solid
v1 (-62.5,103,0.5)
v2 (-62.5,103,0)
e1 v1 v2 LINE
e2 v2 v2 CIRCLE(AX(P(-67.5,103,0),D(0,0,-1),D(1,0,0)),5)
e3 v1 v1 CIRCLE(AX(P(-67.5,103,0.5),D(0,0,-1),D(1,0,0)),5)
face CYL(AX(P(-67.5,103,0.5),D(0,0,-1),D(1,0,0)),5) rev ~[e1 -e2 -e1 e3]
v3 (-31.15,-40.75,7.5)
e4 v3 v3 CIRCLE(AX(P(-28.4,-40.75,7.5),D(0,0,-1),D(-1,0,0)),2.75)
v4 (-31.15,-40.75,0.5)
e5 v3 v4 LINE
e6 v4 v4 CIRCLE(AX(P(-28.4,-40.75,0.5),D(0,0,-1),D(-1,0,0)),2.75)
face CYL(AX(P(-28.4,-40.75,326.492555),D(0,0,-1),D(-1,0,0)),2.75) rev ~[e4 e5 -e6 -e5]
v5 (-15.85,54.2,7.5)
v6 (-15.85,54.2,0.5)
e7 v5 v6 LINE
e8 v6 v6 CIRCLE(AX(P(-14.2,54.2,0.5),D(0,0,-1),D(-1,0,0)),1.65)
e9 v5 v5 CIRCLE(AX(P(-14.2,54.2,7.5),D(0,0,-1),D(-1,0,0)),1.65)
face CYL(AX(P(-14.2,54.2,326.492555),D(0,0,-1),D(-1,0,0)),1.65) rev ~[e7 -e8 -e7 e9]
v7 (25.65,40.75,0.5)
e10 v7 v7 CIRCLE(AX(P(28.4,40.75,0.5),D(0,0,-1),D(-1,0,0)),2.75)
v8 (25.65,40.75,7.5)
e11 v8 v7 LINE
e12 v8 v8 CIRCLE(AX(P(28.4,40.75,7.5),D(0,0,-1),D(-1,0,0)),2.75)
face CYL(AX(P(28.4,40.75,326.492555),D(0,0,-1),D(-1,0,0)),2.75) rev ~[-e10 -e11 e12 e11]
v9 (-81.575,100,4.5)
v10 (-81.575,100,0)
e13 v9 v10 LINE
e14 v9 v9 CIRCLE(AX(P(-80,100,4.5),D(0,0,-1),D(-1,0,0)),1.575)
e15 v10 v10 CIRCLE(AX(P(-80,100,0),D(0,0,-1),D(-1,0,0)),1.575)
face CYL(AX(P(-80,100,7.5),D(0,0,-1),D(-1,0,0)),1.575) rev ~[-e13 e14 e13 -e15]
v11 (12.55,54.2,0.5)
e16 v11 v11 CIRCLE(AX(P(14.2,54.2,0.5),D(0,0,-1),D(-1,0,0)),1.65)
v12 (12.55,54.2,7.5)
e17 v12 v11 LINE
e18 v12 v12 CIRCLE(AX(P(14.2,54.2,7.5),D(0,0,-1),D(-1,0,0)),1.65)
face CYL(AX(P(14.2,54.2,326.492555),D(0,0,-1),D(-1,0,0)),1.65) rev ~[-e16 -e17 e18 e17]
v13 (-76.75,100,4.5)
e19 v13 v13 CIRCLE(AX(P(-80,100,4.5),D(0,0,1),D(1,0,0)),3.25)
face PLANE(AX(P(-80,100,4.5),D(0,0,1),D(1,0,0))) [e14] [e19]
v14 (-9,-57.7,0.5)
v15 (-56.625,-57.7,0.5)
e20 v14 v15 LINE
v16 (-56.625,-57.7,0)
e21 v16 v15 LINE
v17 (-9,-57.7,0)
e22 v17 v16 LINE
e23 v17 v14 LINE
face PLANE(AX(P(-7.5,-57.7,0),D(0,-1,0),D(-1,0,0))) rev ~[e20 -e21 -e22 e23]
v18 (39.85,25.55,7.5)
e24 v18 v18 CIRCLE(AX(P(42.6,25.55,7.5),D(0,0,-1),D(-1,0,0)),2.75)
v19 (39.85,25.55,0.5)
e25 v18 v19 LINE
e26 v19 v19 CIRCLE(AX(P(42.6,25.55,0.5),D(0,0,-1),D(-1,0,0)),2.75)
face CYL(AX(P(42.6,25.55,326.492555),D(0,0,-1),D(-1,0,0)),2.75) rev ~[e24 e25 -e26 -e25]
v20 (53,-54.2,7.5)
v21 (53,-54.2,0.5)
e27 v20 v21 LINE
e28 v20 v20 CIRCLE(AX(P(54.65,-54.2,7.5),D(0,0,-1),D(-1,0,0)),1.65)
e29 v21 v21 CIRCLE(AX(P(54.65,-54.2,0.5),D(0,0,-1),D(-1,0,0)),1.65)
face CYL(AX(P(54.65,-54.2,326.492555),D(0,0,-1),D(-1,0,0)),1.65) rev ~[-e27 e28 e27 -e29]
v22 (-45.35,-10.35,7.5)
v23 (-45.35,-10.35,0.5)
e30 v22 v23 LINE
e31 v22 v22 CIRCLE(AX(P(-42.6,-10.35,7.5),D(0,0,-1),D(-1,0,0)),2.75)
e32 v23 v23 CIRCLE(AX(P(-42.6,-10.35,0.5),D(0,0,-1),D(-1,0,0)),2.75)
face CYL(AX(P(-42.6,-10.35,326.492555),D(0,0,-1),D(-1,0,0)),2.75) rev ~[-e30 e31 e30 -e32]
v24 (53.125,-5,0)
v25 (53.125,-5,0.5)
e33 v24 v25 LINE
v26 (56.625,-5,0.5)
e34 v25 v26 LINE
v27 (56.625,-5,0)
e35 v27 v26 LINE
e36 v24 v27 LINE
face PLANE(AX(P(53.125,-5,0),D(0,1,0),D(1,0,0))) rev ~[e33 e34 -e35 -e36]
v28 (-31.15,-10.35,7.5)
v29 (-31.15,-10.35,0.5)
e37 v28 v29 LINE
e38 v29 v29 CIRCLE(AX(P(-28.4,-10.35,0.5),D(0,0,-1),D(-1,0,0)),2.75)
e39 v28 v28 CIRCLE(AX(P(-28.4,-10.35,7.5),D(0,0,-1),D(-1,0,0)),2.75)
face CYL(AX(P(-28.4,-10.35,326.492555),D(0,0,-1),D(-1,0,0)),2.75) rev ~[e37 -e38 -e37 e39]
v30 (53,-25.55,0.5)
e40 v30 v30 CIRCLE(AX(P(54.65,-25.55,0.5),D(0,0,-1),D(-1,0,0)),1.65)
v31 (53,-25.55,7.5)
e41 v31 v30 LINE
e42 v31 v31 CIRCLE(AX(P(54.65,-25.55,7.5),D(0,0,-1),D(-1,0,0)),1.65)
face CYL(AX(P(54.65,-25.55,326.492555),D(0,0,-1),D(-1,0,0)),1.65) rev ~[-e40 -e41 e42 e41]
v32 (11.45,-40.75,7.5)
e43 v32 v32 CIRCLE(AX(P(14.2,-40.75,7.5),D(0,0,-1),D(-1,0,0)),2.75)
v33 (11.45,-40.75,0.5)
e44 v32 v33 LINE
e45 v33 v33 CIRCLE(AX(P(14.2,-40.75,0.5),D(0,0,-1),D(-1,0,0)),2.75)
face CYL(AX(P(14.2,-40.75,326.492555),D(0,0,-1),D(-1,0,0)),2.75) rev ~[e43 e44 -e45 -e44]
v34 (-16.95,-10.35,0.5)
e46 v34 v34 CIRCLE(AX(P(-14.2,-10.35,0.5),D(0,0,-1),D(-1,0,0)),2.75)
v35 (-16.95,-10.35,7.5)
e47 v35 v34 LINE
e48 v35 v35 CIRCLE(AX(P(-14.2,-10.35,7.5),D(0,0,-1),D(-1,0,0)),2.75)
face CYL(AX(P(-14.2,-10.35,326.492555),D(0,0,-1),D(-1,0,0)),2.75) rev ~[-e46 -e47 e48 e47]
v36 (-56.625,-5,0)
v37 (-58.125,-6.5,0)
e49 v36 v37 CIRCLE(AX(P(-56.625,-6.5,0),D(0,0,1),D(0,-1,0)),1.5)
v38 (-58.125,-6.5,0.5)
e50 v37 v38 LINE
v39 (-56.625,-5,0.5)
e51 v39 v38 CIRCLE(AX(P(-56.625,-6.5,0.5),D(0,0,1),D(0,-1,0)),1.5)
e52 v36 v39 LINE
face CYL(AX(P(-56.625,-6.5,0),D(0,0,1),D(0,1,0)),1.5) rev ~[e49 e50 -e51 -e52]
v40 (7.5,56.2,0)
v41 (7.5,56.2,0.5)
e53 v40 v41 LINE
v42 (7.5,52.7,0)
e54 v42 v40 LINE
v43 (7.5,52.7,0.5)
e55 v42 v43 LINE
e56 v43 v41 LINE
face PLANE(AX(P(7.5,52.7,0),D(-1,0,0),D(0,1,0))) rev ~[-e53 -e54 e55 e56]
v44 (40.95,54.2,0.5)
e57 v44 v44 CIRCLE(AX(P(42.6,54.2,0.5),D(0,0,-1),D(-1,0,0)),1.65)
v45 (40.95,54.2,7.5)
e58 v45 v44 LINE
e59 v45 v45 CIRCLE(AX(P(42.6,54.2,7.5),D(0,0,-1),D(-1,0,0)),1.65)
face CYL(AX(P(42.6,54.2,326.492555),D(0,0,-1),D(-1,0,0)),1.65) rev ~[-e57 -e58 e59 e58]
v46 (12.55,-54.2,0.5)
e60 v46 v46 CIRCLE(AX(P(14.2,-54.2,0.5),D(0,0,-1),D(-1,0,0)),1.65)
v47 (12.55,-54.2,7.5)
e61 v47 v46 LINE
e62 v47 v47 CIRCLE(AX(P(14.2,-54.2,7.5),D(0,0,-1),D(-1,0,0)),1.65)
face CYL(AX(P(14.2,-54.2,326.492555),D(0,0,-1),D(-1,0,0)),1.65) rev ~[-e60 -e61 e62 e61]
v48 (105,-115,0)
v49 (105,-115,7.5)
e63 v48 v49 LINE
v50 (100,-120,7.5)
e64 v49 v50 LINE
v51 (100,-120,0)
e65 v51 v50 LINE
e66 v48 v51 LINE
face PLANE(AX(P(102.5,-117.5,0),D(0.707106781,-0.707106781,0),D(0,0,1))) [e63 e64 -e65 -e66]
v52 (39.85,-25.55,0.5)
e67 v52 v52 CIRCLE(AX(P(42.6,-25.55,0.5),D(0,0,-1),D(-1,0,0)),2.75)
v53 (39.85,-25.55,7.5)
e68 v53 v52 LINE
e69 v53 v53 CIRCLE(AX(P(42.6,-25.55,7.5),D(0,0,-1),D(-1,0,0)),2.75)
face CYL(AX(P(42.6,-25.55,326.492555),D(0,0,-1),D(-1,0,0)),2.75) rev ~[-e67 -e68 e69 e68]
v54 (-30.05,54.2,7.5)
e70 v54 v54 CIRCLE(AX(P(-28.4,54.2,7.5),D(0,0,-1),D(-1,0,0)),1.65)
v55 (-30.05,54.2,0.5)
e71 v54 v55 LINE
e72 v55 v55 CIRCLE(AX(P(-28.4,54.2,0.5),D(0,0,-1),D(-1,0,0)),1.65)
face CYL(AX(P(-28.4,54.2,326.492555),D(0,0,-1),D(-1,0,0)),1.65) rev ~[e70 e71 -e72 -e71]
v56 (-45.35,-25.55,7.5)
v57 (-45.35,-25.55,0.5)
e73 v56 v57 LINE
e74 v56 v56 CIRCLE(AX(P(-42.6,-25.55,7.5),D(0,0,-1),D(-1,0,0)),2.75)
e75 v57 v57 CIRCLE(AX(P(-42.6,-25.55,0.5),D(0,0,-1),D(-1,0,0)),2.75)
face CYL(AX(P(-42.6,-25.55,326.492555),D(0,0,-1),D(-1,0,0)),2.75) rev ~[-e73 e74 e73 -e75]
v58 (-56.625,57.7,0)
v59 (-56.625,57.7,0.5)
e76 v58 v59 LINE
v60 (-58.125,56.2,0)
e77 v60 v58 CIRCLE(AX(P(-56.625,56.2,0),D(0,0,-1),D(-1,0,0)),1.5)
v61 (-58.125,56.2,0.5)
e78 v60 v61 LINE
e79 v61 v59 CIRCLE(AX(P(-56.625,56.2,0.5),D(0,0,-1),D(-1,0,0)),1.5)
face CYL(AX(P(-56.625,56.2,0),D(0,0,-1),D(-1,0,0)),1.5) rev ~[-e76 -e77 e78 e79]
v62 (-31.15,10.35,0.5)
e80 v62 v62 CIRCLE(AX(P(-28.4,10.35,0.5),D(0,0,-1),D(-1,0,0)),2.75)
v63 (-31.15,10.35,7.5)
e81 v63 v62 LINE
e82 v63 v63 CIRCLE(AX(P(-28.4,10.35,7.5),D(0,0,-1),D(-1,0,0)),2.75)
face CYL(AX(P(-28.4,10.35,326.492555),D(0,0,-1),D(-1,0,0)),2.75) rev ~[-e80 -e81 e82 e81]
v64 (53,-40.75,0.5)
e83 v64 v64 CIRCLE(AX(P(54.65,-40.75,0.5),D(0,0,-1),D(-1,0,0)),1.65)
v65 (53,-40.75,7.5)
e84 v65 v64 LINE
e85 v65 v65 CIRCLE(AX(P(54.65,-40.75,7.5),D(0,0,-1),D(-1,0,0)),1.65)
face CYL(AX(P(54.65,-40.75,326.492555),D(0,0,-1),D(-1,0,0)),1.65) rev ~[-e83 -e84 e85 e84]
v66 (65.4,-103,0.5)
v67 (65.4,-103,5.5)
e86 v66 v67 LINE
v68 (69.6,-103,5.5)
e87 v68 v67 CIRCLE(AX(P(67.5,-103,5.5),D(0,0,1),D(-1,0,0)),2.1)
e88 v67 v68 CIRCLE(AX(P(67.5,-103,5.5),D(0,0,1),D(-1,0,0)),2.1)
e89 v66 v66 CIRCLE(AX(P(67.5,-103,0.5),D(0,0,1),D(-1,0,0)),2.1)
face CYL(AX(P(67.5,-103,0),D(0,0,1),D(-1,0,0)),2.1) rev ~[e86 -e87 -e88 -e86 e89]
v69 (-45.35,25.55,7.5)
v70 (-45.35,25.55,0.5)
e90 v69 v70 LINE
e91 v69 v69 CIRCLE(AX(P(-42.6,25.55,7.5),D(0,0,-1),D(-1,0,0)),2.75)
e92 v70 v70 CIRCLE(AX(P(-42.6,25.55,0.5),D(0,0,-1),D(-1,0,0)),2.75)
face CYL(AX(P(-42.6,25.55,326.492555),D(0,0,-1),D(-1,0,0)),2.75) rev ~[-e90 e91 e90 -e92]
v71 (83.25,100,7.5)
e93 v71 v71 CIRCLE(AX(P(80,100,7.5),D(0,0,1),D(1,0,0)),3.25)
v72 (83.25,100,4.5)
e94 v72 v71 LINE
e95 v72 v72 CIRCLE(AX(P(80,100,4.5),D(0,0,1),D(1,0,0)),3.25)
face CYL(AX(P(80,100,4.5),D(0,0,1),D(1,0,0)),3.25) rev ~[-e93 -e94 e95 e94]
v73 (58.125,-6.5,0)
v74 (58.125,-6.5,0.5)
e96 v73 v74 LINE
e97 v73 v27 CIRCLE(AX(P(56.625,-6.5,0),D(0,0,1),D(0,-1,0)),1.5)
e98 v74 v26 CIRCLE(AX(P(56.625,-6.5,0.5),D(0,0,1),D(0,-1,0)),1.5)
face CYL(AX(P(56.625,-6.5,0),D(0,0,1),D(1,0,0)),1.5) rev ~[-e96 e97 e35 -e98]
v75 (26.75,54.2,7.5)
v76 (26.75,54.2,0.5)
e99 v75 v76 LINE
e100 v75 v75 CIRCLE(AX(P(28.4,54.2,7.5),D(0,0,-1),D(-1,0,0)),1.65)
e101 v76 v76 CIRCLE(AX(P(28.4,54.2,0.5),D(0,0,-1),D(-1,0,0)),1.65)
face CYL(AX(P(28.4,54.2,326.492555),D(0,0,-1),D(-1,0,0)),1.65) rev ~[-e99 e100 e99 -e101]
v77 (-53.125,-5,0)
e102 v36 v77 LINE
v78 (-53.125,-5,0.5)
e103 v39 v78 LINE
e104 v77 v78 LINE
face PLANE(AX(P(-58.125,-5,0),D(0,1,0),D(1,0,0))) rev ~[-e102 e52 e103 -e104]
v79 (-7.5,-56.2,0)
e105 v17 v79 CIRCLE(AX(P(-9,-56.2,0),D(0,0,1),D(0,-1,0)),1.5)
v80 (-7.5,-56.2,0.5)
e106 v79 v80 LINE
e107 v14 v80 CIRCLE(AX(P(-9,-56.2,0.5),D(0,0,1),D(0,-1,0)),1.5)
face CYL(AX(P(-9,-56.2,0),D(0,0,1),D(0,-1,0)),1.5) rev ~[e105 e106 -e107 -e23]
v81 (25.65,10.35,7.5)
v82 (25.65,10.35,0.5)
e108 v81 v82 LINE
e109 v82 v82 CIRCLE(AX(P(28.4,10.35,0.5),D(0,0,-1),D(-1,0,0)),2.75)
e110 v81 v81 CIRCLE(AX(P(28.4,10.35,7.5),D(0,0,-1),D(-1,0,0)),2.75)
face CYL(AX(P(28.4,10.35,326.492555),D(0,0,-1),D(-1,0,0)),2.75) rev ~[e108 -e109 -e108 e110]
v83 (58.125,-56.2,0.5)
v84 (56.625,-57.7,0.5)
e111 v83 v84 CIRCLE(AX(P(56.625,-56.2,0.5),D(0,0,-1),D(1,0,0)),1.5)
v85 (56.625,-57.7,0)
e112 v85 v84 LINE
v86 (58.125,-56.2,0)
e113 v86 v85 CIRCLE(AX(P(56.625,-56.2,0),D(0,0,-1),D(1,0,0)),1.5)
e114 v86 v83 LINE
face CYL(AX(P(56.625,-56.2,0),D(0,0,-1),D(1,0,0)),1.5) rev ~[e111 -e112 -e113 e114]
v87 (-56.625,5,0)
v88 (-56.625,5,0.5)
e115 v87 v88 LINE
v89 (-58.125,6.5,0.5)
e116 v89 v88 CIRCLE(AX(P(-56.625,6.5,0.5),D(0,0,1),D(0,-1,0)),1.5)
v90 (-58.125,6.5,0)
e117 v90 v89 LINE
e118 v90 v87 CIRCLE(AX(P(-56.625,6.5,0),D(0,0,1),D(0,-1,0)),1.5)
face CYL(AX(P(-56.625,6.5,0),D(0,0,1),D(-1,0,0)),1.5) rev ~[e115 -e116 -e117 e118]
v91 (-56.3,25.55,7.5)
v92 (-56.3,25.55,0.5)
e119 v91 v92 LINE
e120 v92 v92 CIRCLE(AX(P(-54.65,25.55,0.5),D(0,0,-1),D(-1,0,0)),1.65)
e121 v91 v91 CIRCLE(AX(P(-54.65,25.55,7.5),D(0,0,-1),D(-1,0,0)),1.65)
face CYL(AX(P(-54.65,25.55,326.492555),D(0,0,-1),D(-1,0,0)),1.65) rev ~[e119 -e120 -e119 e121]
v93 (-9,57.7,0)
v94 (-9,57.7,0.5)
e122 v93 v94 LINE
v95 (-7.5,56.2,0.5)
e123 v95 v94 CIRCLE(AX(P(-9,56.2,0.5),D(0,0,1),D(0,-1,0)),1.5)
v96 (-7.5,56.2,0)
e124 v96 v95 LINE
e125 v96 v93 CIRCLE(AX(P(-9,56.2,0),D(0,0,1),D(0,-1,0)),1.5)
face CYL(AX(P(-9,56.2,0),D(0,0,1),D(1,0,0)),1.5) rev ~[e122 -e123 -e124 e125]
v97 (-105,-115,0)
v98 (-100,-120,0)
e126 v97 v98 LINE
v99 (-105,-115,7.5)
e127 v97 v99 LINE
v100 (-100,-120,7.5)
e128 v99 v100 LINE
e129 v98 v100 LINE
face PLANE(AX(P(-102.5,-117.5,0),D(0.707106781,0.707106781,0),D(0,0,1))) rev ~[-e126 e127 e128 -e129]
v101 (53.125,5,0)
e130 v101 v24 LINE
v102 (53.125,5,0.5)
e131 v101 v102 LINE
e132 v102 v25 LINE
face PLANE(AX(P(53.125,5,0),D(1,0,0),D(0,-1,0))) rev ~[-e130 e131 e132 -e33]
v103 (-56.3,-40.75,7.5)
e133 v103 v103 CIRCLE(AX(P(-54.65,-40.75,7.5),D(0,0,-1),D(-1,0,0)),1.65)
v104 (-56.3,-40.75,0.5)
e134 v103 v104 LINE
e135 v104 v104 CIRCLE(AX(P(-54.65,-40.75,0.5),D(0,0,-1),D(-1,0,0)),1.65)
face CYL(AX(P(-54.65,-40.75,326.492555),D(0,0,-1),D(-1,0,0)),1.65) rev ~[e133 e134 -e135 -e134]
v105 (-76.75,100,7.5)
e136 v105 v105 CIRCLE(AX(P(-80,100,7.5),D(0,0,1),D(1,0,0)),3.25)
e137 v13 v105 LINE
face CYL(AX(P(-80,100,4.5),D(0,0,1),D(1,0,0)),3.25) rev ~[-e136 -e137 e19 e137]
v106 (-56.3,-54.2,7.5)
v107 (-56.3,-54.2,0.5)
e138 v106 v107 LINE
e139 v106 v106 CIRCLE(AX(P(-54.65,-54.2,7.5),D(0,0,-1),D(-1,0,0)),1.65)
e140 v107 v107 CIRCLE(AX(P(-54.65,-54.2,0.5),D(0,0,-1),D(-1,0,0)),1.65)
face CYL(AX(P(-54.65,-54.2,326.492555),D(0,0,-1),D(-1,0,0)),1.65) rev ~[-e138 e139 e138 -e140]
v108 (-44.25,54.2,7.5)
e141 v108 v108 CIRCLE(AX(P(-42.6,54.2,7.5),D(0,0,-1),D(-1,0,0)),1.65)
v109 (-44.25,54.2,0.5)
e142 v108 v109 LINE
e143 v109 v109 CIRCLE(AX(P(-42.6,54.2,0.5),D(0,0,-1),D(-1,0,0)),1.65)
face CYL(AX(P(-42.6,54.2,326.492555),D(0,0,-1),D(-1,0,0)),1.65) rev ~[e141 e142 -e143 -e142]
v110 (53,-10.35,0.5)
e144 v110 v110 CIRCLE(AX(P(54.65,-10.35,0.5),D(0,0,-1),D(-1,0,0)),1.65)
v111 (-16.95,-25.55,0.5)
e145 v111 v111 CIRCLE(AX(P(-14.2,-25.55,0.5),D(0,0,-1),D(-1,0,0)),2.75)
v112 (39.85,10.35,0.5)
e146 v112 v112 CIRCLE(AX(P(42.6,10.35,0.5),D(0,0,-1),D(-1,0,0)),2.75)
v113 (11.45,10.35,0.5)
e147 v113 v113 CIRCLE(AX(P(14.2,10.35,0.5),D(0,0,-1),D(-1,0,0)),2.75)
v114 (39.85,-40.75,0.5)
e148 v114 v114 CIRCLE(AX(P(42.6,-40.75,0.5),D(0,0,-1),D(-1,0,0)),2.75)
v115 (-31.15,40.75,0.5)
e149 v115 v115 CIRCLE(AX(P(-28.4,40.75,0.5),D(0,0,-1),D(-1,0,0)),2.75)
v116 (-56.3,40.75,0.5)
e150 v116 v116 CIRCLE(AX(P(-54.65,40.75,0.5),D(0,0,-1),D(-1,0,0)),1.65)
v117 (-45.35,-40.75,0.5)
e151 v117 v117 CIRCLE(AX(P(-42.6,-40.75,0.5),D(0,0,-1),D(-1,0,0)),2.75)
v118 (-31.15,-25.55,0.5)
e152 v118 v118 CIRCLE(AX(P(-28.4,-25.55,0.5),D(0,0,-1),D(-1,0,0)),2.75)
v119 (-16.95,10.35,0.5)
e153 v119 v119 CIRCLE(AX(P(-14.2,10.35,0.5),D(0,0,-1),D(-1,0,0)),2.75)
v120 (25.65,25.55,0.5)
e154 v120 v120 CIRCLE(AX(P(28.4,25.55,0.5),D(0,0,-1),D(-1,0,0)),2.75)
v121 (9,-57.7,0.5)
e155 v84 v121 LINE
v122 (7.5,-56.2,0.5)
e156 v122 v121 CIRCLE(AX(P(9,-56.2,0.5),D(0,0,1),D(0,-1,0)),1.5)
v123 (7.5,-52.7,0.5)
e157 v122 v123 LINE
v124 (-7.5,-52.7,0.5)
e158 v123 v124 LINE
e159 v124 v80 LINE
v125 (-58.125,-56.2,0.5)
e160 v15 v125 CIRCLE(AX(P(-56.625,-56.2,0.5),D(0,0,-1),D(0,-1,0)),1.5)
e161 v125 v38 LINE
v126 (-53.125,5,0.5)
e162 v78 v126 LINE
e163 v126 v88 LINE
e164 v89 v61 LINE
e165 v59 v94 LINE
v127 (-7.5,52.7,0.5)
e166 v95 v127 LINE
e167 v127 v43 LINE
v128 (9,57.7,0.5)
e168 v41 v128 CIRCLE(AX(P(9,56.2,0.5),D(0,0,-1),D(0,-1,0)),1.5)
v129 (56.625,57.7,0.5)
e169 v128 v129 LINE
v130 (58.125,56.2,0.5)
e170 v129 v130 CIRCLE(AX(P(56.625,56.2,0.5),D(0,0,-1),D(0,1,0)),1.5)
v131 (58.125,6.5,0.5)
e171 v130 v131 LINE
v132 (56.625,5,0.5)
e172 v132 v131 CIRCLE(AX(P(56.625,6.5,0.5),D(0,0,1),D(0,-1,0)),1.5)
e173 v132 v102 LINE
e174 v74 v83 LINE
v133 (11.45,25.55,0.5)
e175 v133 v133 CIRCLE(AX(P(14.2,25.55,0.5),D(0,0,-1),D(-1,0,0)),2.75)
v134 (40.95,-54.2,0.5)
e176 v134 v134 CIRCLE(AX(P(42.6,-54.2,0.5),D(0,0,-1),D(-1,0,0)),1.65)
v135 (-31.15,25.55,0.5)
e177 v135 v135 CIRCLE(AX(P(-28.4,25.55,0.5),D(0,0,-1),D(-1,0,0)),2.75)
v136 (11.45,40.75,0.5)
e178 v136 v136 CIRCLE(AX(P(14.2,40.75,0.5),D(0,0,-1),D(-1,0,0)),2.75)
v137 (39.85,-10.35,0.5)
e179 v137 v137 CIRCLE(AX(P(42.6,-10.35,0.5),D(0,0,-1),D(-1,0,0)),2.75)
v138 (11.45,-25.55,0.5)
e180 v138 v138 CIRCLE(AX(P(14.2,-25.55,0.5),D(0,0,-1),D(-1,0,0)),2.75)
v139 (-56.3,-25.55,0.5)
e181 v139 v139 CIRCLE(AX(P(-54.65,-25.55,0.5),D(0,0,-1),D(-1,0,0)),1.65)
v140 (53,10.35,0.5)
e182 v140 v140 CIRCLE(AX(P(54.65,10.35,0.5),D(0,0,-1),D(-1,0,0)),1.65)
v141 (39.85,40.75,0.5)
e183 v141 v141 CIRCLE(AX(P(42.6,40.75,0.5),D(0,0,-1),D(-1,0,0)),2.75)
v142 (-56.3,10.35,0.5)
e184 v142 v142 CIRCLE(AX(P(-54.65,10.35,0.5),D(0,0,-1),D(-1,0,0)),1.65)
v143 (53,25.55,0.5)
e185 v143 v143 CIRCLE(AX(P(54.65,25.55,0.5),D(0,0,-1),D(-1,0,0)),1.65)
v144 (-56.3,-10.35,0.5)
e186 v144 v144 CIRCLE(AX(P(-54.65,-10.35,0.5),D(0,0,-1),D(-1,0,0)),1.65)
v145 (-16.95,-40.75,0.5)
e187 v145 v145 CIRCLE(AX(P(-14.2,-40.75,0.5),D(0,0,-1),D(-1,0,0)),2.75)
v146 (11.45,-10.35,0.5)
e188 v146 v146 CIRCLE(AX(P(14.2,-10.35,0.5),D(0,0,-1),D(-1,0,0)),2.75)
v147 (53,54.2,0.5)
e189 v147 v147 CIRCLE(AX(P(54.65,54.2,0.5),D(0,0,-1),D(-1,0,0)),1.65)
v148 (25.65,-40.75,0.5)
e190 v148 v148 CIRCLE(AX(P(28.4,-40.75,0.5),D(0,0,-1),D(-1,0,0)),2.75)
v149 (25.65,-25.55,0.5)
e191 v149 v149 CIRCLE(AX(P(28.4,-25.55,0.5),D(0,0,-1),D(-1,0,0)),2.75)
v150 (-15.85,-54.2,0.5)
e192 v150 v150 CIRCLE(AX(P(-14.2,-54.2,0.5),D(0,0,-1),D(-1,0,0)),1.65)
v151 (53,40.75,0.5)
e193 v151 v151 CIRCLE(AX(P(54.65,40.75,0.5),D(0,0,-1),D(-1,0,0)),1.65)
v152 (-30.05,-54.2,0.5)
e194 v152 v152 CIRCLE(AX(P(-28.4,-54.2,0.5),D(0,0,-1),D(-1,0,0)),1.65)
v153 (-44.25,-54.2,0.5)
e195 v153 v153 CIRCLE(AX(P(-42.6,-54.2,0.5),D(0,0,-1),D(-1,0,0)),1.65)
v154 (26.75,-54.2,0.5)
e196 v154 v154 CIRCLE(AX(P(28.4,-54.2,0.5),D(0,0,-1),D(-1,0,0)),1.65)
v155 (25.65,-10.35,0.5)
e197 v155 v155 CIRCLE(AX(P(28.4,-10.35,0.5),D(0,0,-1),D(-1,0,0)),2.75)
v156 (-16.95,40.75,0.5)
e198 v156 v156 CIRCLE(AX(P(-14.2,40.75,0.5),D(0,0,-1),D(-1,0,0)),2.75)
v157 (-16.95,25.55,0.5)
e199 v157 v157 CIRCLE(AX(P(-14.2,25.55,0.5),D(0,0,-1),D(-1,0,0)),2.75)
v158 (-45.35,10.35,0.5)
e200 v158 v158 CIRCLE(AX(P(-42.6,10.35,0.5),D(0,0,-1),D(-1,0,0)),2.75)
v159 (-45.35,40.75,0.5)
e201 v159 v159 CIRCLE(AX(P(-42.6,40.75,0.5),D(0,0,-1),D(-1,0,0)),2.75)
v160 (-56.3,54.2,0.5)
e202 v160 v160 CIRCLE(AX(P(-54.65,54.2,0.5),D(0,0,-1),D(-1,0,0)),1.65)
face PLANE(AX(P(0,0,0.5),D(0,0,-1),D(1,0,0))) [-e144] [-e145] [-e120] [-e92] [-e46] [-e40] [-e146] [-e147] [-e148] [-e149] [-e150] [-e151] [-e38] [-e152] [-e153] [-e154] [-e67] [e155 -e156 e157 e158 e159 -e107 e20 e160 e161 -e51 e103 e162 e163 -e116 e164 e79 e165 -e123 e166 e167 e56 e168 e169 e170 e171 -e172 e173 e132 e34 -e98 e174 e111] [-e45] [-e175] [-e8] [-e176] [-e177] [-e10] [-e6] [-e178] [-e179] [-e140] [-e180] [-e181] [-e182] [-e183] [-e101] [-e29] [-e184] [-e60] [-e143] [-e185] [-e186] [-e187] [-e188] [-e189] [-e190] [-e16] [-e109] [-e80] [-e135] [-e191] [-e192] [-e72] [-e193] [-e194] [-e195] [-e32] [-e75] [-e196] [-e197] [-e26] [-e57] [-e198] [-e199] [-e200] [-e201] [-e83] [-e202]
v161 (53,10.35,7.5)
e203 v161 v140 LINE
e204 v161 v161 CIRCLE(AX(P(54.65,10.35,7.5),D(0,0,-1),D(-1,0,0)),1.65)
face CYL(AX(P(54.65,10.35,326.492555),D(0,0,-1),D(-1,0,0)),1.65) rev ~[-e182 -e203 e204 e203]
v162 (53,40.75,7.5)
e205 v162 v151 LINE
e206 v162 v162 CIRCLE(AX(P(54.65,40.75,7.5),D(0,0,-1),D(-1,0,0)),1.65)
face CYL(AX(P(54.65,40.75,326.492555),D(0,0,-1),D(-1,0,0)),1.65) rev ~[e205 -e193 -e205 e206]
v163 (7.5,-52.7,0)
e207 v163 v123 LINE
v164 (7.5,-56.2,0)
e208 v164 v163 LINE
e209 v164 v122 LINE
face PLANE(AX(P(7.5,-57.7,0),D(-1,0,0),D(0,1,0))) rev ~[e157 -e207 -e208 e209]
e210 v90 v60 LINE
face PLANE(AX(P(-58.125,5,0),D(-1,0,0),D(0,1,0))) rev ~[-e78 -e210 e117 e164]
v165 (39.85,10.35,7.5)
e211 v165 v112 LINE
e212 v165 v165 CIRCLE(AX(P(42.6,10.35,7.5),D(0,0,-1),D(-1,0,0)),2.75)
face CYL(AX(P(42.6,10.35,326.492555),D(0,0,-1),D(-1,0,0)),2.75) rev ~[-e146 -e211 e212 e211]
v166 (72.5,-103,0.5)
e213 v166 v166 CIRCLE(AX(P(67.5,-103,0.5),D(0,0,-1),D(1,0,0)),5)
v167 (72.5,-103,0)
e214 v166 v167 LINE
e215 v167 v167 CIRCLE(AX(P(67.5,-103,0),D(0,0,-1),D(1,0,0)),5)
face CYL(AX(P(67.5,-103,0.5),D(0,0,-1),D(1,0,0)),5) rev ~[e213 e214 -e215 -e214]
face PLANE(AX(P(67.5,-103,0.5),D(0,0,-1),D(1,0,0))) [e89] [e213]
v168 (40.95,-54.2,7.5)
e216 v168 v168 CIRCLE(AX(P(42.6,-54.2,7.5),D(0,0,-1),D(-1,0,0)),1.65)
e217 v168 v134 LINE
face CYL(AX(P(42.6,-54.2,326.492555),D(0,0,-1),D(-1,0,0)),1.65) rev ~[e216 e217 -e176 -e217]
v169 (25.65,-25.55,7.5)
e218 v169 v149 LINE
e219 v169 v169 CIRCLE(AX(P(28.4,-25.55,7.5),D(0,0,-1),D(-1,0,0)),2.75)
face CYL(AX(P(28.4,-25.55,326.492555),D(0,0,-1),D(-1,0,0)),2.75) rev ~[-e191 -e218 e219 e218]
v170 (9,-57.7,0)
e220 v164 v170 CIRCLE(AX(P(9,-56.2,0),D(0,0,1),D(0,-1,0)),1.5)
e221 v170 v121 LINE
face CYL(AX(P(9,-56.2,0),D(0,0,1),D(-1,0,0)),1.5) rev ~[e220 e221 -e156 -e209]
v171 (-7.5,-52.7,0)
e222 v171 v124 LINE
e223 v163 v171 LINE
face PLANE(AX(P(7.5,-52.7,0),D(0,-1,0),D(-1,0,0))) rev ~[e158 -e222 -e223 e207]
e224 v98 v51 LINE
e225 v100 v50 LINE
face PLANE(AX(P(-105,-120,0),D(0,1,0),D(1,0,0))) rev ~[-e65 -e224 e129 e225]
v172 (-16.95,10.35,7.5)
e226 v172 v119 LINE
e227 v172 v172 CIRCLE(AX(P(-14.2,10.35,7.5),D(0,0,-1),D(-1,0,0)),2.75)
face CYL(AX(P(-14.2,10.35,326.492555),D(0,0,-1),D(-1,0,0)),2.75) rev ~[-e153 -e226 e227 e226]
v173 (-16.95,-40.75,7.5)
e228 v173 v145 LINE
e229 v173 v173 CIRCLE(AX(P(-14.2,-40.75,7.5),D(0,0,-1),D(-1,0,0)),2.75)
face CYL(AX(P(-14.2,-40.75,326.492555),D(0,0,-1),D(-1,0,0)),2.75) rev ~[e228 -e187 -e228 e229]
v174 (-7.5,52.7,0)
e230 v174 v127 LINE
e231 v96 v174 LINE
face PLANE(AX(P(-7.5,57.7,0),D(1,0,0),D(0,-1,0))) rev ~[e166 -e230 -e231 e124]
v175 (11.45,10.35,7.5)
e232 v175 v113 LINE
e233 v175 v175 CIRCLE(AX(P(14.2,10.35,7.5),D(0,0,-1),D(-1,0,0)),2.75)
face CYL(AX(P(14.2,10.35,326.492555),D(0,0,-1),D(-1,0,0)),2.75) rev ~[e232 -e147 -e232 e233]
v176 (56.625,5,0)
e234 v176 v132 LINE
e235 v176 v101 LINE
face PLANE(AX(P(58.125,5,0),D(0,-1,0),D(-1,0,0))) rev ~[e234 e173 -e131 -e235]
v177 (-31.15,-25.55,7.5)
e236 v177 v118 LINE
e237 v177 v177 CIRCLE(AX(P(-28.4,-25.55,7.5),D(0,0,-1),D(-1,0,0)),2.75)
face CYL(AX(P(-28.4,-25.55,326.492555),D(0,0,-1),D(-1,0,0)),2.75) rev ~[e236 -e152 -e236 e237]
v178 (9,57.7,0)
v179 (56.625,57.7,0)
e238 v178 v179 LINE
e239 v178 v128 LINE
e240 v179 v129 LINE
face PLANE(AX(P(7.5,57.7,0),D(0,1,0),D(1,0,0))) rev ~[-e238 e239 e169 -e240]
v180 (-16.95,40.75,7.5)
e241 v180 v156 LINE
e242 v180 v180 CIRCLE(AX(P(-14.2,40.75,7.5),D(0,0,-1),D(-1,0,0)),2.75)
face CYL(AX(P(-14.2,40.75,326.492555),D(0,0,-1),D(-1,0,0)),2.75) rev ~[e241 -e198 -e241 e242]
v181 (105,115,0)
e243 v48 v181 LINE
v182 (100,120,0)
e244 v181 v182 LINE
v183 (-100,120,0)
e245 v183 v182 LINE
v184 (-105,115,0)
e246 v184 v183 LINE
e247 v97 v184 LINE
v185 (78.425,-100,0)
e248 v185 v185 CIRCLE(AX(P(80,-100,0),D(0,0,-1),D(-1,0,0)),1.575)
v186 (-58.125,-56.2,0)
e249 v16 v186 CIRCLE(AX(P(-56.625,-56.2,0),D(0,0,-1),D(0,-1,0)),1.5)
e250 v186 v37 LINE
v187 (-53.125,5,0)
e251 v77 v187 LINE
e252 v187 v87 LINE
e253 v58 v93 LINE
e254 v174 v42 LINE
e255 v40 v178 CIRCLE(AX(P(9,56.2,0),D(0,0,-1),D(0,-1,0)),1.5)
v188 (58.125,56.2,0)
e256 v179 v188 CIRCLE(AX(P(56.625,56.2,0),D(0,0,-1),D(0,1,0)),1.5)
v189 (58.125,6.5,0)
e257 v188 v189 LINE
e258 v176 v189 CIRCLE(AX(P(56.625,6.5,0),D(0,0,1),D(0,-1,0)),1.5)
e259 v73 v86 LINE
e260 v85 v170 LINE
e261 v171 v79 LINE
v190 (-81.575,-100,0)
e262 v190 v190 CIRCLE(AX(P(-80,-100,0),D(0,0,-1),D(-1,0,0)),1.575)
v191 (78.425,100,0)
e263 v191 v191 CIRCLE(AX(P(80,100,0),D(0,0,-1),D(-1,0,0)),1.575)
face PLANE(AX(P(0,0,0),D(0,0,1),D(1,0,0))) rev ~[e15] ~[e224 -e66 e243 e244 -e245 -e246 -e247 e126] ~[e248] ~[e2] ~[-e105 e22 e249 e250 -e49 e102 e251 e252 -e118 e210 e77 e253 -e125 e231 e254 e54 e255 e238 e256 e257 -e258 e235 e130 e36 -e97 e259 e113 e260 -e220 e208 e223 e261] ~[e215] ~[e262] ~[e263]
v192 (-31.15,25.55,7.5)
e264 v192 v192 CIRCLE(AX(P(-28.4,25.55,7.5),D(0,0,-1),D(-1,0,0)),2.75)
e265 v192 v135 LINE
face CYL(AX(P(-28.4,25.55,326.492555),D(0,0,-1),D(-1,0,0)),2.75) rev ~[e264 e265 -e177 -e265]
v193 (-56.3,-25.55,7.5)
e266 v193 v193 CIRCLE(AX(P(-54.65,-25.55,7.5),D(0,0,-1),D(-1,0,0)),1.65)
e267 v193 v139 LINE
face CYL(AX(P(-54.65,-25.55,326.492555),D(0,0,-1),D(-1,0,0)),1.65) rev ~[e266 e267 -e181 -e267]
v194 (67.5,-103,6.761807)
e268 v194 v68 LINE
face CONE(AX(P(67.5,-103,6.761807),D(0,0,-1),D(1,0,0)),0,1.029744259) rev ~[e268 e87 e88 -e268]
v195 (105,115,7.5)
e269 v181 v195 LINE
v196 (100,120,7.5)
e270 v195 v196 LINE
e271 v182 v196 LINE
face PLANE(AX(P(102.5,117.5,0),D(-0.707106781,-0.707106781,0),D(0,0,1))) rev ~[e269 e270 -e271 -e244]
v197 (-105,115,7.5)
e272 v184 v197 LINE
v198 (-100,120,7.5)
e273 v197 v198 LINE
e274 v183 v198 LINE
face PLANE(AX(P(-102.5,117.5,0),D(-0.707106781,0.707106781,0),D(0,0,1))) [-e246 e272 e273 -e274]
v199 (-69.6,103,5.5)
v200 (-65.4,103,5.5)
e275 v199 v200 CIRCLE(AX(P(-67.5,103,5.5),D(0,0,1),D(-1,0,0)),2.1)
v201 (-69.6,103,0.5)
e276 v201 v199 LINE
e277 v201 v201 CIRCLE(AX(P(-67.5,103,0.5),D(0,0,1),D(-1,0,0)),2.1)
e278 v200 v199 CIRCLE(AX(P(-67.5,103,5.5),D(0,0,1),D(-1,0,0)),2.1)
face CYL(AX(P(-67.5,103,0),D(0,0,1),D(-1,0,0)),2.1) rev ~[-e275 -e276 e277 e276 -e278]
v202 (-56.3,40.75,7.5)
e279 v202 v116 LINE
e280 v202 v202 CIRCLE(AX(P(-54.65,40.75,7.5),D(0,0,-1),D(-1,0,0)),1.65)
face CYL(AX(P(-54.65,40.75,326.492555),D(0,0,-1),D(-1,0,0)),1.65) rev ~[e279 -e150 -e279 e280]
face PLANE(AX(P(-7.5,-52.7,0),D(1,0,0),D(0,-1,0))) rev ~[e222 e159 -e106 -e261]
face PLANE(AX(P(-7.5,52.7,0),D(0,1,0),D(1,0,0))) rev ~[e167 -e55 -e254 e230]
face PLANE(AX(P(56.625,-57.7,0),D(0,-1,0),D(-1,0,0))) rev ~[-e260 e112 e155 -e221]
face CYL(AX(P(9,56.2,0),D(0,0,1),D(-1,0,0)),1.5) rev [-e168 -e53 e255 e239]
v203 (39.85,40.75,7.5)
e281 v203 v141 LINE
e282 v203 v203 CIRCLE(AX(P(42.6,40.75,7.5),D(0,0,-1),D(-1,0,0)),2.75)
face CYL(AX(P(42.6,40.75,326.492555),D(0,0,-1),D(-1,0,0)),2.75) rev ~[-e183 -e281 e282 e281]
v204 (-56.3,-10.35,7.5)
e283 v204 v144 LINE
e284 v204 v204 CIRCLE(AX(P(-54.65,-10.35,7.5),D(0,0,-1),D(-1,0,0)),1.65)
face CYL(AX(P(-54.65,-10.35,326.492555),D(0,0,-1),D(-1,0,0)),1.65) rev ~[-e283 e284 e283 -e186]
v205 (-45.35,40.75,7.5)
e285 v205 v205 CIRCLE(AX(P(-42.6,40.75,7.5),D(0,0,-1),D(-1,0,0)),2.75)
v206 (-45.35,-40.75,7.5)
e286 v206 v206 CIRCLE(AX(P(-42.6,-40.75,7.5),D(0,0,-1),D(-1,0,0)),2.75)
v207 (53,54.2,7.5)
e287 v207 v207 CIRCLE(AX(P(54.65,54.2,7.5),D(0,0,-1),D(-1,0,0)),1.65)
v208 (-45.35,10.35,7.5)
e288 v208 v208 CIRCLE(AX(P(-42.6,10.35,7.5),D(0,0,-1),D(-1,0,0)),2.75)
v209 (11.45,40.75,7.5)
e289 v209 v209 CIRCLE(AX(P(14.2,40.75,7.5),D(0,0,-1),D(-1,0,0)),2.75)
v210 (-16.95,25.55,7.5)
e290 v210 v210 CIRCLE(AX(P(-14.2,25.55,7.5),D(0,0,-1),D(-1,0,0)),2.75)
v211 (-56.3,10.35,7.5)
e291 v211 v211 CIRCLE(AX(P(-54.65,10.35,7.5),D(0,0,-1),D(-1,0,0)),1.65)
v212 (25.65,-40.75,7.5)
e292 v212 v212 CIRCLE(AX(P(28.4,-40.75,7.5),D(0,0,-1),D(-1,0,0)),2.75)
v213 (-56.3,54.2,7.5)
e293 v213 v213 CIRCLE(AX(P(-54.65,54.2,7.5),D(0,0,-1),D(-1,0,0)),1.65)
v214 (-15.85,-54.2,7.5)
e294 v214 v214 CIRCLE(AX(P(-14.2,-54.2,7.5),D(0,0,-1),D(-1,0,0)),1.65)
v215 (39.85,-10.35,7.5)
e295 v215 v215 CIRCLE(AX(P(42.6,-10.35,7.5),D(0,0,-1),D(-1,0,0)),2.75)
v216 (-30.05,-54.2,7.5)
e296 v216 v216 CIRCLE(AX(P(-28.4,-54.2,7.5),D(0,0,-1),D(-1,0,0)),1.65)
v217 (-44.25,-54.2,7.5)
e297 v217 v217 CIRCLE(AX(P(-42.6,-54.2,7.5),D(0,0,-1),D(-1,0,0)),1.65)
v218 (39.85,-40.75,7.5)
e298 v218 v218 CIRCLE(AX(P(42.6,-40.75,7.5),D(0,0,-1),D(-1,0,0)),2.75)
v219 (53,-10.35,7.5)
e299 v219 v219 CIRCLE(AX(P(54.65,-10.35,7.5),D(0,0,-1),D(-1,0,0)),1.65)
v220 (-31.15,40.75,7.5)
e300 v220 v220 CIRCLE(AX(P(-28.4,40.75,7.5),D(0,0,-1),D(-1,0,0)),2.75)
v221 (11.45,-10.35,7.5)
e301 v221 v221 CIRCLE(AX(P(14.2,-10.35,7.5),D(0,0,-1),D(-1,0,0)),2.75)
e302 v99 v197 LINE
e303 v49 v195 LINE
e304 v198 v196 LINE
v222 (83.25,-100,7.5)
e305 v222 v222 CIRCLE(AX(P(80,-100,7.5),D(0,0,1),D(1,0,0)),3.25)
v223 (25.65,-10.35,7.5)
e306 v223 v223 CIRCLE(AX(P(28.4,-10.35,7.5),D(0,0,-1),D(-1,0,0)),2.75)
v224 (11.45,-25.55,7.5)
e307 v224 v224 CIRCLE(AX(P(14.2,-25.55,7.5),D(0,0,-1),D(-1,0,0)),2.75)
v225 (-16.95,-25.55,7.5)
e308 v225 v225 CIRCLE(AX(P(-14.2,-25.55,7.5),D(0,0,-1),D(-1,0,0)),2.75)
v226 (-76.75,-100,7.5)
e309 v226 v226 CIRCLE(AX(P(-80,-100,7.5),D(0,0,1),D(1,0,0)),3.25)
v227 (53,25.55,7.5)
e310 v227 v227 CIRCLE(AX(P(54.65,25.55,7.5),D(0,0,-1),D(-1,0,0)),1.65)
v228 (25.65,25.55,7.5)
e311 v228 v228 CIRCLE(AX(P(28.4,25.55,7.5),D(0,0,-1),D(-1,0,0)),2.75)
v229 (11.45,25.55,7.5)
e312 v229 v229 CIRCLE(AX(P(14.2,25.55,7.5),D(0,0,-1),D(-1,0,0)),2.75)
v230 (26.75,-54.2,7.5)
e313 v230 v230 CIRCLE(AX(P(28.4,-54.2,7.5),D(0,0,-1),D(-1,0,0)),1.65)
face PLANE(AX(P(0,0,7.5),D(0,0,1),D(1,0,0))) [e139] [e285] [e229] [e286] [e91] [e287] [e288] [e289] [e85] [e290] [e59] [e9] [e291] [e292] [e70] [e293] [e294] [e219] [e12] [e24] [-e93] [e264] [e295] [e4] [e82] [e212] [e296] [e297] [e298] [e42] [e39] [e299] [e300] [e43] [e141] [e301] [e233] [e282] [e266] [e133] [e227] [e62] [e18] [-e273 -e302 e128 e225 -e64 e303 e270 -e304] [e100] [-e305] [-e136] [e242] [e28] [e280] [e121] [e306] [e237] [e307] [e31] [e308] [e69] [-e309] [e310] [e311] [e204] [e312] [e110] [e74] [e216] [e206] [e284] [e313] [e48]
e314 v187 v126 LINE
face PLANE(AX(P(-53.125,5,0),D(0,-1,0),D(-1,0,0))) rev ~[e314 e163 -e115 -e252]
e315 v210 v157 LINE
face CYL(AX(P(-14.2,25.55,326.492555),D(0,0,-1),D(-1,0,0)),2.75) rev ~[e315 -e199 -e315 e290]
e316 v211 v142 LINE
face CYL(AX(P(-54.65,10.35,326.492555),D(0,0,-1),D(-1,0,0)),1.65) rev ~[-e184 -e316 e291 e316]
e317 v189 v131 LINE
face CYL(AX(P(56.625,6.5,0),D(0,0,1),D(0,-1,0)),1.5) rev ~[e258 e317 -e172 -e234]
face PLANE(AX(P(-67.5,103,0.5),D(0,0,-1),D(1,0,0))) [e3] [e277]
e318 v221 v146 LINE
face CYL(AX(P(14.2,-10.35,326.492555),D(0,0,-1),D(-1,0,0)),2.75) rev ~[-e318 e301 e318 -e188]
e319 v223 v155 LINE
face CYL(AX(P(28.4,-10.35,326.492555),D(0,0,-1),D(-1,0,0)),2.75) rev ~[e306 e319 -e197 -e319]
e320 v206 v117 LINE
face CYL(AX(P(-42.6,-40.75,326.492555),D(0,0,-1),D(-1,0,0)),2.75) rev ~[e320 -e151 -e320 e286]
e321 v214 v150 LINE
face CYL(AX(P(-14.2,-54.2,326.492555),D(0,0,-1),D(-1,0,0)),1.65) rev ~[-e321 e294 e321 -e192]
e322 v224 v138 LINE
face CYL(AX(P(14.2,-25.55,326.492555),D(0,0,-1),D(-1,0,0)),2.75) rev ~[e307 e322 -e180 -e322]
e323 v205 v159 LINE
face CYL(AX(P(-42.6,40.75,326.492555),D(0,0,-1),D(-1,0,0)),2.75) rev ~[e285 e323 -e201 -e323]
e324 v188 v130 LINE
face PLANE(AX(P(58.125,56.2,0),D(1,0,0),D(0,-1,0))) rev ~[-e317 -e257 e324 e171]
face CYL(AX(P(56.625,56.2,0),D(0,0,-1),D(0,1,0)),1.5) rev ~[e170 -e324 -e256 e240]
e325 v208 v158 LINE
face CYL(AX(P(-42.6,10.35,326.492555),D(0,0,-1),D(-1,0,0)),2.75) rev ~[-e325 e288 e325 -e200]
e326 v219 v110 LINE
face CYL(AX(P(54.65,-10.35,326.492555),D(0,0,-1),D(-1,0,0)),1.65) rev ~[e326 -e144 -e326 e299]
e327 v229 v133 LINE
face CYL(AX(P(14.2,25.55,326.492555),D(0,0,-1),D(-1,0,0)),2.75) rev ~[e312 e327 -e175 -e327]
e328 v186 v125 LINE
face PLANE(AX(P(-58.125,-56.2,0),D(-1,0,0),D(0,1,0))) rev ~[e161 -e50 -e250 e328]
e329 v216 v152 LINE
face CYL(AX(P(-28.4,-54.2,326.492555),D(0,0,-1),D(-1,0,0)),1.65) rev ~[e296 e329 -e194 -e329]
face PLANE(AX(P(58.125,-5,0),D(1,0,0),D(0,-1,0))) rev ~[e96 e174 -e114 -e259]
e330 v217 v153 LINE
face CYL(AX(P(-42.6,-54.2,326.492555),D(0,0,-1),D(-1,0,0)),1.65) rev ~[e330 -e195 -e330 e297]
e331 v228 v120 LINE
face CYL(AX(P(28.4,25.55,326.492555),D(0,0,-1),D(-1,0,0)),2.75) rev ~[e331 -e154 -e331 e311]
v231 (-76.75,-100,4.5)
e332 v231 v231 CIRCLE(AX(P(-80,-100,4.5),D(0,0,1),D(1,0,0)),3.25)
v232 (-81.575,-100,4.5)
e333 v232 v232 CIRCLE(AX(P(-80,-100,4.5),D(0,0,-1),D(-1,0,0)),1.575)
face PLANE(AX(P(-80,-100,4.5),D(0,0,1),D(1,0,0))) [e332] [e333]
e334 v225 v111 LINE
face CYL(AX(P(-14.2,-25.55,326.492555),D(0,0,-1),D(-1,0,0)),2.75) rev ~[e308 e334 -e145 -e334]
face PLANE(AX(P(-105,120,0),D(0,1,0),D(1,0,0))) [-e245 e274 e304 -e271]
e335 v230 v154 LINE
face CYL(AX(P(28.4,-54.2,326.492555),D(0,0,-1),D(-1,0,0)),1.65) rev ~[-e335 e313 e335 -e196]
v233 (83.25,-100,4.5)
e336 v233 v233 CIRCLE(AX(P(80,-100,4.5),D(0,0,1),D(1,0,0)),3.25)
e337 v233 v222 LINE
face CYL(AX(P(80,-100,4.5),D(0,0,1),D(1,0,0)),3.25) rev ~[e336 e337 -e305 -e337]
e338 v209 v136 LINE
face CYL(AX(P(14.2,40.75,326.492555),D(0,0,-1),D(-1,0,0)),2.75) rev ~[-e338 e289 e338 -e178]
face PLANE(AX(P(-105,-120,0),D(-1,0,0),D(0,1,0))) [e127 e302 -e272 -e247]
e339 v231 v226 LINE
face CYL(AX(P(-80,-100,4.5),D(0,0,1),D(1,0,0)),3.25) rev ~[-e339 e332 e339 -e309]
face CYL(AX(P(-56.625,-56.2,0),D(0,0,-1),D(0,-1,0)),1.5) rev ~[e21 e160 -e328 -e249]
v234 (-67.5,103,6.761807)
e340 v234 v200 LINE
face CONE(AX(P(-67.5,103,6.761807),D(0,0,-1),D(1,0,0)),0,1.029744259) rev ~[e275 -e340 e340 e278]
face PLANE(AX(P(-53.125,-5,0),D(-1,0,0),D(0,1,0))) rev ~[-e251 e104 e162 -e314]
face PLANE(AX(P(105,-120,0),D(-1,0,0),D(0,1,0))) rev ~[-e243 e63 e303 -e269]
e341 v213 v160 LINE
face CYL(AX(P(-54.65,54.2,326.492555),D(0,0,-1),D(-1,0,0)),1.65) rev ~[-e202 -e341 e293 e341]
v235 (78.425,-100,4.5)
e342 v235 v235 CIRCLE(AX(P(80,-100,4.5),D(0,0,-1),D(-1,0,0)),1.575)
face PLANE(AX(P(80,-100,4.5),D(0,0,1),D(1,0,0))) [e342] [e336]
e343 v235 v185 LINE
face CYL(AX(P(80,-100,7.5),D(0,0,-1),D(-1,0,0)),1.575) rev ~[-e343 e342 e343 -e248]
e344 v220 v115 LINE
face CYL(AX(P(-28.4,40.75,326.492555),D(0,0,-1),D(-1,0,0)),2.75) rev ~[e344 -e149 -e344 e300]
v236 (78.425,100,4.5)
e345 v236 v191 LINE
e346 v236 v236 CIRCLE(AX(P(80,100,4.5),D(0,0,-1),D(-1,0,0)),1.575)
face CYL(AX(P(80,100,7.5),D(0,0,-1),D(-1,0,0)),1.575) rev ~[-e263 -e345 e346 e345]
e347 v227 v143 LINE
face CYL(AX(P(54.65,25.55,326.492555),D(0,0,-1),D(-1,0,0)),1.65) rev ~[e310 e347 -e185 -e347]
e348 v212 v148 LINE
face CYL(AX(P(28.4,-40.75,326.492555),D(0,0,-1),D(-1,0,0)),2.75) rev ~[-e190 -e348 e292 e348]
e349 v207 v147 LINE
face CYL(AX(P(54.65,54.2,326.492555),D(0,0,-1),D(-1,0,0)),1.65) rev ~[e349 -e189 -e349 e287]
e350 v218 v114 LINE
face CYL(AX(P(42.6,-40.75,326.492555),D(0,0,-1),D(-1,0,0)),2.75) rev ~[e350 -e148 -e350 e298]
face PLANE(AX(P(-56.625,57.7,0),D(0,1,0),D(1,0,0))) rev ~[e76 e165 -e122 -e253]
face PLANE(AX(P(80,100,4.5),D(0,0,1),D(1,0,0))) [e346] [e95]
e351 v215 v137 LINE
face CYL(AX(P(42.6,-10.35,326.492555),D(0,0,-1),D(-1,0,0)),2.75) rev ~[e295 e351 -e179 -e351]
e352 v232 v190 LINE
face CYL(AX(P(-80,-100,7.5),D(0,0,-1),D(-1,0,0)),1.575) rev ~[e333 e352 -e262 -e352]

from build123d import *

# Parameters (mm, degrees)
F0_W           = 210
F0_H           = 240
F1_DEPTH       = 7.5
F3_D           = 3.15
F3_CBORE_D     = 6.5
F3_CBORE_DEPTH = 3
F5_D           = 4.2
F5_DEPTH       = 5.5
F5_CBORE_D     = 10
F5_CBORE_DEPTH = 0.5
F5_TIP         = 1.2618073
F7_D           = 5.5
F9_D           = 3.3
F10_R          = 1.65
F10_R_2        = 2.75
F11_DEPTH      = 0.5
F12_SIZE       = 5
F13_R          = 1.5


with BuildPart() as f1:
    # F0 (on Top) → F1 (new body)
    with BuildSketch(Plane.XY):
        Rectangle(F0_W, F0_H)
    extrude(amount=F1_DEPTH)

    # F3 (through all)
    with Locations(Plane.XY.offset(7.5)):
        with Locations((-80, 100), (80, 100), (-80, -100), (80, -100)):
            CounterBoreHole(F3_D / 2, F3_CBORE_D / 2, F3_CBORE_DEPTH)

    # F5
    with Locations(Plane(origin=(0, 0, 0), x_dir=(1, 0, 0), z_dir=(0, 0, -1))):
        with Locations((-67.5, -103), (67.5, 103)):
            CounterBoreHole(F5_D / 2, F5_CBORE_D / 2, F5_CBORE_DEPTH, depth=F5_DEPTH)
            with Locations((0, 0, -(F5_DEPTH + F5_TIP / 2))):  # 118° drill point
                Cone(0, F5_D / 2, F5_TIP, mode=Mode.SUBTRACT)

    # F7 (through all)
    with Locations(Plane.XY.offset(7.5)):
        with Locations((-42.6, 40.75), (-28.4, 40.75), (-14.2, 40.75), (14.2, 40.75), (28.4, 40.75), (42.6, 40.75), (-42.6, 25.55), (-28.4, 25.55), (-14.2, 25.55), (14.2, 25.55), (28.4, 25.55), (42.6, 25.55), (42.6, 10.35), (28.4, 10.35), (14.2, 10.35), (-14.2, 10.35), (-28.4, 10.35), (-42.6, 10.35), (-42.6, -10.35), (-28.4, -10.35), (-14.2, -10.35), (14.2, -10.35), (28.4, -10.35), (42.6, -10.35), (42.6, -25.55), (28.4, -25.55), (14.2, -25.55), (-14.2, -25.55), (-28.4, -25.55), (-42.6, -25.55), (-42.6, -40.75), (-28.4, -40.75), (-14.2, -40.75), (14.2, -40.75), (28.4, -40.75), (42.6, -40.75)):
            Hole(F7_D / 2)

    # F9 (through all)
    with Locations(Plane.XY.offset(7.5)):
        with Locations((-54.65, 54.2), (-42.6, 54.2), (-28.4, 54.2), (-14.2, 54.2), (14.2, 54.2), (28.4, 54.2), (42.6, 54.2), (54.65, 54.2), (54.65, 40.75), (54.65, 25.55), (54.65, 10.35), (54.65, -10.35), (54.65, -25.55), (54.65, -40.75), (54.65, -54.2), (42.6, -54.2), (28.4, -54.2), (14.2, -54.2), (-14.2, -54.2), (-28.4, -54.2), (-42.6, -54.2), (-54.65, -54.2), (-54.65, -40.75), (-54.65, -25.55), (-54.65, -10.35), (-54.65, 10.35), (-54.65, 25.55), (-54.65, 40.75)):
            Hole(F9_D / 2)

    # F10 (on face) → F11 (cut)
    with BuildSketch(Plane(origin=(0, 0, 0), x_dir=(1, 0, 0), z_dir=(0, 0, -1))):
        with BuildLine():
            Line((7.5, -57.7), (56.625, -57.7))
            ThreePointArc((56.625, -57.7), (57.6856601718, -57.2606601718), (58.125, -56.2))
            Line((58.125, -56.2), (58.125, -5))
            Line((58.125, -5), (53.125, -5))
            Line((53.125, -5), (53.125, 5))
            Line((53.125, 5), (58.125, 5))
            Line((58.125, 5), (58.125, 56.2))
            ThreePointArc((58.125, 56.2), (57.6856601718, 57.2606601718), (56.625, 57.7))
            Line((56.625, 57.7), (7.5, 57.7))
            Line((7.5, 57.7), (7.5, 52.7))
            Line((7.5, 52.7), (-7.5, 52.7))
            Line((-7.5, 52.7), (-7.5, 57.7))
            Line((-7.5, 57.7), (-56.625, 57.7))
            ThreePointArc((-56.625, 57.7), (-57.6856601718, 57.2606601718), (-58.125, 56.2))
            Line((-58.125, 56.2), (-58.125, 5))
            Line((-58.125, 5), (-53.125, 5))
            Line((-53.125, 5), (-53.125, -5))
            Line((-53.125, -5), (-58.125, -5))
            Line((-58.125, -5), (-58.125, -56.2))
            ThreePointArc((-58.125, -56.2), (-57.6856601718, -57.2606601718), (-56.625, -57.7))
            Line((-56.625, -57.7), (-7.5, -57.7))
            Line((-7.5, -57.7), (-7.5, -52.7))
            Line((-7.5, -52.7), (7.5, -52.7))
            Line((7.5, -52.7), (7.5, -57.7))
        make_face()
        with Locations((-54.65, -54.2)):
            Circle(F10_R, mode=Mode.SUBTRACT)
        with Locations((-54.65, -40.75)):
            Circle(F10_R, mode=Mode.SUBTRACT)
        with Locations((-54.65, -25.55)):
            Circle(F10_R, mode=Mode.SUBTRACT)
        with Locations((-54.65, -10.35)):
            Circle(F10_R, mode=Mode.SUBTRACT)
        with Locations((-42.6, -54.2)):
            Circle(F10_R, mode=Mode.SUBTRACT)
        with Locations((-28.4, -54.2)):
            Circle(F10_R, mode=Mode.SUBTRACT)
        with Locations((-42.6, -40.75)):
            Circle(F10_R_2, mode=Mode.SUBTRACT)
        with Locations((-28.4, -40.75)):
            Circle(F10_R_2, mode=Mode.SUBTRACT)
        with Locations((-14.2, -54.2)):
            Circle(F10_R, mode=Mode.SUBTRACT)
        with Locations((-14.2, -40.75)):
            Circle(F10_R_2, mode=Mode.SUBTRACT)
        with Locations((-42.6, -25.55)):
            Circle(F10_R_2, mode=Mode.SUBTRACT)
        with Locations((-28.4, -25.55)):
            Circle(F10_R_2, mode=Mode.SUBTRACT)
        with Locations((-42.6, -10.35)):
            Circle(F10_R_2, mode=Mode.SUBTRACT)
        with Locations((-28.4, -10.35)):
            Circle(F10_R_2, mode=Mode.SUBTRACT)
        with Locations((-14.2, -25.55)):
            Circle(F10_R_2, mode=Mode.SUBTRACT)
        with Locations((-14.2, -10.35)):
            Circle(F10_R_2, mode=Mode.SUBTRACT)
        with Locations((14.2, -54.2)):
            Circle(F10_R, mode=Mode.SUBTRACT)
        with Locations((14.2, -40.75)):
            Circle(F10_R_2, mode=Mode.SUBTRACT)
        with Locations((28.4, -54.2)):
            Circle(F10_R, mode=Mode.SUBTRACT)
        with Locations((42.6, -54.2)):
            Circle(F10_R, mode=Mode.SUBTRACT)
        with Locations((28.4, -40.75)):
            Circle(F10_R_2, mode=Mode.SUBTRACT)
        with Locations((42.6, -40.75)):
            Circle(F10_R_2, mode=Mode.SUBTRACT)
        with Locations((14.2, -25.55)):
            Circle(F10_R_2, mode=Mode.SUBTRACT)
        with Locations((14.2, -10.35)):
            Circle(F10_R_2, mode=Mode.SUBTRACT)
        with Locations((28.4, -25.55)):
            Circle(F10_R_2, mode=Mode.SUBTRACT)
        with Locations((42.6, -25.55)):
            Circle(F10_R_2, mode=Mode.SUBTRACT)
        with Locations((28.4, -10.35)):
            Circle(F10_R_2, mode=Mode.SUBTRACT)
        with Locations((42.6, -10.35)):
            Circle(F10_R_2, mode=Mode.SUBTRACT)
        with Locations((54.65, -54.2)):
            Circle(F10_R, mode=Mode.SUBTRACT)
        with Locations((54.65, -40.75)):
            Circle(F10_R, mode=Mode.SUBTRACT)
        with Locations((54.65, -25.55)):
            Circle(F10_R, mode=Mode.SUBTRACT)
        with Locations((54.65, -10.35)):
            Circle(F10_R, mode=Mode.SUBTRACT)
        with Locations((-54.65, 10.35)):
            Circle(F10_R, mode=Mode.SUBTRACT)
        with Locations((-54.65, 25.55)):
            Circle(F10_R, mode=Mode.SUBTRACT)
        with Locations((-54.65, 40.75)):
            Circle(F10_R, mode=Mode.SUBTRACT)
        with Locations((-54.65, 54.2)):
            Circle(F10_R, mode=Mode.SUBTRACT)
        with Locations((-42.6, 10.35)):
            Circle(F10_R_2, mode=Mode.SUBTRACT)
        with Locations((-28.4, 10.35)):
            Circle(F10_R_2, mode=Mode.SUBTRACT)
        with Locations((-42.6, 25.55)):
            Circle(F10_R_2, mode=Mode.SUBTRACT)
        with Locations((-28.4, 25.55)):
            Circle(F10_R_2, mode=Mode.SUBTRACT)
        with Locations((-14.2, 10.35)):
            Circle(F10_R_2, mode=Mode.SUBTRACT)
        with Locations((-14.2, 25.55)):
            Circle(F10_R_2, mode=Mode.SUBTRACT)
        with Locations((-42.6, 40.75)):
            Circle(F10_R_2, mode=Mode.SUBTRACT)
        with Locations((-28.4, 40.75)):
            Circle(F10_R_2, mode=Mode.SUBTRACT)
        with Locations((-42.6, 54.2)):
            Circle(F10_R, mode=Mode.SUBTRACT)
        with Locations((-28.4, 54.2)):
            Circle(F10_R, mode=Mode.SUBTRACT)
        with Locations((-14.2, 40.75)):
            Circle(F10_R_2, mode=Mode.SUBTRACT)
        with Locations((-14.2, 54.2)):
            Circle(F10_R, mode=Mode.SUBTRACT)
        with Locations((14.2, 10.35)):
            Circle(F10_R_2, mode=Mode.SUBTRACT)
        with Locations((14.2, 25.55)):
            Circle(F10_R_2, mode=Mode.SUBTRACT)
        with Locations((28.4, 10.35)):
            Circle(F10_R_2, mode=Mode.SUBTRACT)
        with Locations((42.6, 10.35)):
            Circle(F10_R_2, mode=Mode.SUBTRACT)
        with Locations((28.4, 25.55)):
            Circle(F10_R_2, mode=Mode.SUBTRACT)
        with Locations((42.6, 25.55)):
            Circle(F10_R_2, mode=Mode.SUBTRACT)
        with Locations((14.2, 40.75)):
            Circle(F10_R_2, mode=Mode.SUBTRACT)
        with Locations((14.2, 54.2)):
            Circle(F10_R, mode=Mode.SUBTRACT)
        with Locations((28.4, 40.75)):
            Circle(F10_R_2, mode=Mode.SUBTRACT)
        with Locations((42.6, 40.75)):
            Circle(F10_R_2, mode=Mode.SUBTRACT)
        with Locations((28.4, 54.2)):
            Circle(F10_R, mode=Mode.SUBTRACT)
        with Locations((42.6, 54.2)):
            Circle(F10_R, mode=Mode.SUBTRACT)
        with Locations((54.65, 10.35)):
            Circle(F10_R, mode=Mode.SUBTRACT)
        with Locations((54.65, 25.55)):
            Circle(F10_R, mode=Mode.SUBTRACT)
        with Locations((54.65, 40.75)):
            Circle(F10_R, mode=Mode.SUBTRACT)
        with Locations((54.65, 54.2)):
            Circle(F10_R, mode=Mode.SUBTRACT)
    extrude(amount=-F11_DEPTH, mode=Mode.SUBTRACT)

    # F12
    f12_edges = [f1.edges().sort_by_distance(p)[0] for p in [
        (-105, 120, 3.75),
        (105, 120, 3.75),
        (-105, -120, 3.75),
        (105, -120, 3.75),
    ]]
    chamfer(f12_edges, length=F12_SIZE)

    # F13
    f13_edges = [f1.edges().sort_by_distance(p)[0] for p in [
        (7.5, 57.7, 0.25),
        (-7.5, 57.7, 0.25),
        (58.125, -5, 0.25),
        (58.125, 5, 0.25),
        (7.5, -57.7, 0.25),
        (-7.5, -57.7, 0.25),
        (-58.125, -5, 0.25),
        (-58.125, 5, 0.25),
    ]]
    fillet(f13_edges, radius=F13_R)


solid = f1.part
